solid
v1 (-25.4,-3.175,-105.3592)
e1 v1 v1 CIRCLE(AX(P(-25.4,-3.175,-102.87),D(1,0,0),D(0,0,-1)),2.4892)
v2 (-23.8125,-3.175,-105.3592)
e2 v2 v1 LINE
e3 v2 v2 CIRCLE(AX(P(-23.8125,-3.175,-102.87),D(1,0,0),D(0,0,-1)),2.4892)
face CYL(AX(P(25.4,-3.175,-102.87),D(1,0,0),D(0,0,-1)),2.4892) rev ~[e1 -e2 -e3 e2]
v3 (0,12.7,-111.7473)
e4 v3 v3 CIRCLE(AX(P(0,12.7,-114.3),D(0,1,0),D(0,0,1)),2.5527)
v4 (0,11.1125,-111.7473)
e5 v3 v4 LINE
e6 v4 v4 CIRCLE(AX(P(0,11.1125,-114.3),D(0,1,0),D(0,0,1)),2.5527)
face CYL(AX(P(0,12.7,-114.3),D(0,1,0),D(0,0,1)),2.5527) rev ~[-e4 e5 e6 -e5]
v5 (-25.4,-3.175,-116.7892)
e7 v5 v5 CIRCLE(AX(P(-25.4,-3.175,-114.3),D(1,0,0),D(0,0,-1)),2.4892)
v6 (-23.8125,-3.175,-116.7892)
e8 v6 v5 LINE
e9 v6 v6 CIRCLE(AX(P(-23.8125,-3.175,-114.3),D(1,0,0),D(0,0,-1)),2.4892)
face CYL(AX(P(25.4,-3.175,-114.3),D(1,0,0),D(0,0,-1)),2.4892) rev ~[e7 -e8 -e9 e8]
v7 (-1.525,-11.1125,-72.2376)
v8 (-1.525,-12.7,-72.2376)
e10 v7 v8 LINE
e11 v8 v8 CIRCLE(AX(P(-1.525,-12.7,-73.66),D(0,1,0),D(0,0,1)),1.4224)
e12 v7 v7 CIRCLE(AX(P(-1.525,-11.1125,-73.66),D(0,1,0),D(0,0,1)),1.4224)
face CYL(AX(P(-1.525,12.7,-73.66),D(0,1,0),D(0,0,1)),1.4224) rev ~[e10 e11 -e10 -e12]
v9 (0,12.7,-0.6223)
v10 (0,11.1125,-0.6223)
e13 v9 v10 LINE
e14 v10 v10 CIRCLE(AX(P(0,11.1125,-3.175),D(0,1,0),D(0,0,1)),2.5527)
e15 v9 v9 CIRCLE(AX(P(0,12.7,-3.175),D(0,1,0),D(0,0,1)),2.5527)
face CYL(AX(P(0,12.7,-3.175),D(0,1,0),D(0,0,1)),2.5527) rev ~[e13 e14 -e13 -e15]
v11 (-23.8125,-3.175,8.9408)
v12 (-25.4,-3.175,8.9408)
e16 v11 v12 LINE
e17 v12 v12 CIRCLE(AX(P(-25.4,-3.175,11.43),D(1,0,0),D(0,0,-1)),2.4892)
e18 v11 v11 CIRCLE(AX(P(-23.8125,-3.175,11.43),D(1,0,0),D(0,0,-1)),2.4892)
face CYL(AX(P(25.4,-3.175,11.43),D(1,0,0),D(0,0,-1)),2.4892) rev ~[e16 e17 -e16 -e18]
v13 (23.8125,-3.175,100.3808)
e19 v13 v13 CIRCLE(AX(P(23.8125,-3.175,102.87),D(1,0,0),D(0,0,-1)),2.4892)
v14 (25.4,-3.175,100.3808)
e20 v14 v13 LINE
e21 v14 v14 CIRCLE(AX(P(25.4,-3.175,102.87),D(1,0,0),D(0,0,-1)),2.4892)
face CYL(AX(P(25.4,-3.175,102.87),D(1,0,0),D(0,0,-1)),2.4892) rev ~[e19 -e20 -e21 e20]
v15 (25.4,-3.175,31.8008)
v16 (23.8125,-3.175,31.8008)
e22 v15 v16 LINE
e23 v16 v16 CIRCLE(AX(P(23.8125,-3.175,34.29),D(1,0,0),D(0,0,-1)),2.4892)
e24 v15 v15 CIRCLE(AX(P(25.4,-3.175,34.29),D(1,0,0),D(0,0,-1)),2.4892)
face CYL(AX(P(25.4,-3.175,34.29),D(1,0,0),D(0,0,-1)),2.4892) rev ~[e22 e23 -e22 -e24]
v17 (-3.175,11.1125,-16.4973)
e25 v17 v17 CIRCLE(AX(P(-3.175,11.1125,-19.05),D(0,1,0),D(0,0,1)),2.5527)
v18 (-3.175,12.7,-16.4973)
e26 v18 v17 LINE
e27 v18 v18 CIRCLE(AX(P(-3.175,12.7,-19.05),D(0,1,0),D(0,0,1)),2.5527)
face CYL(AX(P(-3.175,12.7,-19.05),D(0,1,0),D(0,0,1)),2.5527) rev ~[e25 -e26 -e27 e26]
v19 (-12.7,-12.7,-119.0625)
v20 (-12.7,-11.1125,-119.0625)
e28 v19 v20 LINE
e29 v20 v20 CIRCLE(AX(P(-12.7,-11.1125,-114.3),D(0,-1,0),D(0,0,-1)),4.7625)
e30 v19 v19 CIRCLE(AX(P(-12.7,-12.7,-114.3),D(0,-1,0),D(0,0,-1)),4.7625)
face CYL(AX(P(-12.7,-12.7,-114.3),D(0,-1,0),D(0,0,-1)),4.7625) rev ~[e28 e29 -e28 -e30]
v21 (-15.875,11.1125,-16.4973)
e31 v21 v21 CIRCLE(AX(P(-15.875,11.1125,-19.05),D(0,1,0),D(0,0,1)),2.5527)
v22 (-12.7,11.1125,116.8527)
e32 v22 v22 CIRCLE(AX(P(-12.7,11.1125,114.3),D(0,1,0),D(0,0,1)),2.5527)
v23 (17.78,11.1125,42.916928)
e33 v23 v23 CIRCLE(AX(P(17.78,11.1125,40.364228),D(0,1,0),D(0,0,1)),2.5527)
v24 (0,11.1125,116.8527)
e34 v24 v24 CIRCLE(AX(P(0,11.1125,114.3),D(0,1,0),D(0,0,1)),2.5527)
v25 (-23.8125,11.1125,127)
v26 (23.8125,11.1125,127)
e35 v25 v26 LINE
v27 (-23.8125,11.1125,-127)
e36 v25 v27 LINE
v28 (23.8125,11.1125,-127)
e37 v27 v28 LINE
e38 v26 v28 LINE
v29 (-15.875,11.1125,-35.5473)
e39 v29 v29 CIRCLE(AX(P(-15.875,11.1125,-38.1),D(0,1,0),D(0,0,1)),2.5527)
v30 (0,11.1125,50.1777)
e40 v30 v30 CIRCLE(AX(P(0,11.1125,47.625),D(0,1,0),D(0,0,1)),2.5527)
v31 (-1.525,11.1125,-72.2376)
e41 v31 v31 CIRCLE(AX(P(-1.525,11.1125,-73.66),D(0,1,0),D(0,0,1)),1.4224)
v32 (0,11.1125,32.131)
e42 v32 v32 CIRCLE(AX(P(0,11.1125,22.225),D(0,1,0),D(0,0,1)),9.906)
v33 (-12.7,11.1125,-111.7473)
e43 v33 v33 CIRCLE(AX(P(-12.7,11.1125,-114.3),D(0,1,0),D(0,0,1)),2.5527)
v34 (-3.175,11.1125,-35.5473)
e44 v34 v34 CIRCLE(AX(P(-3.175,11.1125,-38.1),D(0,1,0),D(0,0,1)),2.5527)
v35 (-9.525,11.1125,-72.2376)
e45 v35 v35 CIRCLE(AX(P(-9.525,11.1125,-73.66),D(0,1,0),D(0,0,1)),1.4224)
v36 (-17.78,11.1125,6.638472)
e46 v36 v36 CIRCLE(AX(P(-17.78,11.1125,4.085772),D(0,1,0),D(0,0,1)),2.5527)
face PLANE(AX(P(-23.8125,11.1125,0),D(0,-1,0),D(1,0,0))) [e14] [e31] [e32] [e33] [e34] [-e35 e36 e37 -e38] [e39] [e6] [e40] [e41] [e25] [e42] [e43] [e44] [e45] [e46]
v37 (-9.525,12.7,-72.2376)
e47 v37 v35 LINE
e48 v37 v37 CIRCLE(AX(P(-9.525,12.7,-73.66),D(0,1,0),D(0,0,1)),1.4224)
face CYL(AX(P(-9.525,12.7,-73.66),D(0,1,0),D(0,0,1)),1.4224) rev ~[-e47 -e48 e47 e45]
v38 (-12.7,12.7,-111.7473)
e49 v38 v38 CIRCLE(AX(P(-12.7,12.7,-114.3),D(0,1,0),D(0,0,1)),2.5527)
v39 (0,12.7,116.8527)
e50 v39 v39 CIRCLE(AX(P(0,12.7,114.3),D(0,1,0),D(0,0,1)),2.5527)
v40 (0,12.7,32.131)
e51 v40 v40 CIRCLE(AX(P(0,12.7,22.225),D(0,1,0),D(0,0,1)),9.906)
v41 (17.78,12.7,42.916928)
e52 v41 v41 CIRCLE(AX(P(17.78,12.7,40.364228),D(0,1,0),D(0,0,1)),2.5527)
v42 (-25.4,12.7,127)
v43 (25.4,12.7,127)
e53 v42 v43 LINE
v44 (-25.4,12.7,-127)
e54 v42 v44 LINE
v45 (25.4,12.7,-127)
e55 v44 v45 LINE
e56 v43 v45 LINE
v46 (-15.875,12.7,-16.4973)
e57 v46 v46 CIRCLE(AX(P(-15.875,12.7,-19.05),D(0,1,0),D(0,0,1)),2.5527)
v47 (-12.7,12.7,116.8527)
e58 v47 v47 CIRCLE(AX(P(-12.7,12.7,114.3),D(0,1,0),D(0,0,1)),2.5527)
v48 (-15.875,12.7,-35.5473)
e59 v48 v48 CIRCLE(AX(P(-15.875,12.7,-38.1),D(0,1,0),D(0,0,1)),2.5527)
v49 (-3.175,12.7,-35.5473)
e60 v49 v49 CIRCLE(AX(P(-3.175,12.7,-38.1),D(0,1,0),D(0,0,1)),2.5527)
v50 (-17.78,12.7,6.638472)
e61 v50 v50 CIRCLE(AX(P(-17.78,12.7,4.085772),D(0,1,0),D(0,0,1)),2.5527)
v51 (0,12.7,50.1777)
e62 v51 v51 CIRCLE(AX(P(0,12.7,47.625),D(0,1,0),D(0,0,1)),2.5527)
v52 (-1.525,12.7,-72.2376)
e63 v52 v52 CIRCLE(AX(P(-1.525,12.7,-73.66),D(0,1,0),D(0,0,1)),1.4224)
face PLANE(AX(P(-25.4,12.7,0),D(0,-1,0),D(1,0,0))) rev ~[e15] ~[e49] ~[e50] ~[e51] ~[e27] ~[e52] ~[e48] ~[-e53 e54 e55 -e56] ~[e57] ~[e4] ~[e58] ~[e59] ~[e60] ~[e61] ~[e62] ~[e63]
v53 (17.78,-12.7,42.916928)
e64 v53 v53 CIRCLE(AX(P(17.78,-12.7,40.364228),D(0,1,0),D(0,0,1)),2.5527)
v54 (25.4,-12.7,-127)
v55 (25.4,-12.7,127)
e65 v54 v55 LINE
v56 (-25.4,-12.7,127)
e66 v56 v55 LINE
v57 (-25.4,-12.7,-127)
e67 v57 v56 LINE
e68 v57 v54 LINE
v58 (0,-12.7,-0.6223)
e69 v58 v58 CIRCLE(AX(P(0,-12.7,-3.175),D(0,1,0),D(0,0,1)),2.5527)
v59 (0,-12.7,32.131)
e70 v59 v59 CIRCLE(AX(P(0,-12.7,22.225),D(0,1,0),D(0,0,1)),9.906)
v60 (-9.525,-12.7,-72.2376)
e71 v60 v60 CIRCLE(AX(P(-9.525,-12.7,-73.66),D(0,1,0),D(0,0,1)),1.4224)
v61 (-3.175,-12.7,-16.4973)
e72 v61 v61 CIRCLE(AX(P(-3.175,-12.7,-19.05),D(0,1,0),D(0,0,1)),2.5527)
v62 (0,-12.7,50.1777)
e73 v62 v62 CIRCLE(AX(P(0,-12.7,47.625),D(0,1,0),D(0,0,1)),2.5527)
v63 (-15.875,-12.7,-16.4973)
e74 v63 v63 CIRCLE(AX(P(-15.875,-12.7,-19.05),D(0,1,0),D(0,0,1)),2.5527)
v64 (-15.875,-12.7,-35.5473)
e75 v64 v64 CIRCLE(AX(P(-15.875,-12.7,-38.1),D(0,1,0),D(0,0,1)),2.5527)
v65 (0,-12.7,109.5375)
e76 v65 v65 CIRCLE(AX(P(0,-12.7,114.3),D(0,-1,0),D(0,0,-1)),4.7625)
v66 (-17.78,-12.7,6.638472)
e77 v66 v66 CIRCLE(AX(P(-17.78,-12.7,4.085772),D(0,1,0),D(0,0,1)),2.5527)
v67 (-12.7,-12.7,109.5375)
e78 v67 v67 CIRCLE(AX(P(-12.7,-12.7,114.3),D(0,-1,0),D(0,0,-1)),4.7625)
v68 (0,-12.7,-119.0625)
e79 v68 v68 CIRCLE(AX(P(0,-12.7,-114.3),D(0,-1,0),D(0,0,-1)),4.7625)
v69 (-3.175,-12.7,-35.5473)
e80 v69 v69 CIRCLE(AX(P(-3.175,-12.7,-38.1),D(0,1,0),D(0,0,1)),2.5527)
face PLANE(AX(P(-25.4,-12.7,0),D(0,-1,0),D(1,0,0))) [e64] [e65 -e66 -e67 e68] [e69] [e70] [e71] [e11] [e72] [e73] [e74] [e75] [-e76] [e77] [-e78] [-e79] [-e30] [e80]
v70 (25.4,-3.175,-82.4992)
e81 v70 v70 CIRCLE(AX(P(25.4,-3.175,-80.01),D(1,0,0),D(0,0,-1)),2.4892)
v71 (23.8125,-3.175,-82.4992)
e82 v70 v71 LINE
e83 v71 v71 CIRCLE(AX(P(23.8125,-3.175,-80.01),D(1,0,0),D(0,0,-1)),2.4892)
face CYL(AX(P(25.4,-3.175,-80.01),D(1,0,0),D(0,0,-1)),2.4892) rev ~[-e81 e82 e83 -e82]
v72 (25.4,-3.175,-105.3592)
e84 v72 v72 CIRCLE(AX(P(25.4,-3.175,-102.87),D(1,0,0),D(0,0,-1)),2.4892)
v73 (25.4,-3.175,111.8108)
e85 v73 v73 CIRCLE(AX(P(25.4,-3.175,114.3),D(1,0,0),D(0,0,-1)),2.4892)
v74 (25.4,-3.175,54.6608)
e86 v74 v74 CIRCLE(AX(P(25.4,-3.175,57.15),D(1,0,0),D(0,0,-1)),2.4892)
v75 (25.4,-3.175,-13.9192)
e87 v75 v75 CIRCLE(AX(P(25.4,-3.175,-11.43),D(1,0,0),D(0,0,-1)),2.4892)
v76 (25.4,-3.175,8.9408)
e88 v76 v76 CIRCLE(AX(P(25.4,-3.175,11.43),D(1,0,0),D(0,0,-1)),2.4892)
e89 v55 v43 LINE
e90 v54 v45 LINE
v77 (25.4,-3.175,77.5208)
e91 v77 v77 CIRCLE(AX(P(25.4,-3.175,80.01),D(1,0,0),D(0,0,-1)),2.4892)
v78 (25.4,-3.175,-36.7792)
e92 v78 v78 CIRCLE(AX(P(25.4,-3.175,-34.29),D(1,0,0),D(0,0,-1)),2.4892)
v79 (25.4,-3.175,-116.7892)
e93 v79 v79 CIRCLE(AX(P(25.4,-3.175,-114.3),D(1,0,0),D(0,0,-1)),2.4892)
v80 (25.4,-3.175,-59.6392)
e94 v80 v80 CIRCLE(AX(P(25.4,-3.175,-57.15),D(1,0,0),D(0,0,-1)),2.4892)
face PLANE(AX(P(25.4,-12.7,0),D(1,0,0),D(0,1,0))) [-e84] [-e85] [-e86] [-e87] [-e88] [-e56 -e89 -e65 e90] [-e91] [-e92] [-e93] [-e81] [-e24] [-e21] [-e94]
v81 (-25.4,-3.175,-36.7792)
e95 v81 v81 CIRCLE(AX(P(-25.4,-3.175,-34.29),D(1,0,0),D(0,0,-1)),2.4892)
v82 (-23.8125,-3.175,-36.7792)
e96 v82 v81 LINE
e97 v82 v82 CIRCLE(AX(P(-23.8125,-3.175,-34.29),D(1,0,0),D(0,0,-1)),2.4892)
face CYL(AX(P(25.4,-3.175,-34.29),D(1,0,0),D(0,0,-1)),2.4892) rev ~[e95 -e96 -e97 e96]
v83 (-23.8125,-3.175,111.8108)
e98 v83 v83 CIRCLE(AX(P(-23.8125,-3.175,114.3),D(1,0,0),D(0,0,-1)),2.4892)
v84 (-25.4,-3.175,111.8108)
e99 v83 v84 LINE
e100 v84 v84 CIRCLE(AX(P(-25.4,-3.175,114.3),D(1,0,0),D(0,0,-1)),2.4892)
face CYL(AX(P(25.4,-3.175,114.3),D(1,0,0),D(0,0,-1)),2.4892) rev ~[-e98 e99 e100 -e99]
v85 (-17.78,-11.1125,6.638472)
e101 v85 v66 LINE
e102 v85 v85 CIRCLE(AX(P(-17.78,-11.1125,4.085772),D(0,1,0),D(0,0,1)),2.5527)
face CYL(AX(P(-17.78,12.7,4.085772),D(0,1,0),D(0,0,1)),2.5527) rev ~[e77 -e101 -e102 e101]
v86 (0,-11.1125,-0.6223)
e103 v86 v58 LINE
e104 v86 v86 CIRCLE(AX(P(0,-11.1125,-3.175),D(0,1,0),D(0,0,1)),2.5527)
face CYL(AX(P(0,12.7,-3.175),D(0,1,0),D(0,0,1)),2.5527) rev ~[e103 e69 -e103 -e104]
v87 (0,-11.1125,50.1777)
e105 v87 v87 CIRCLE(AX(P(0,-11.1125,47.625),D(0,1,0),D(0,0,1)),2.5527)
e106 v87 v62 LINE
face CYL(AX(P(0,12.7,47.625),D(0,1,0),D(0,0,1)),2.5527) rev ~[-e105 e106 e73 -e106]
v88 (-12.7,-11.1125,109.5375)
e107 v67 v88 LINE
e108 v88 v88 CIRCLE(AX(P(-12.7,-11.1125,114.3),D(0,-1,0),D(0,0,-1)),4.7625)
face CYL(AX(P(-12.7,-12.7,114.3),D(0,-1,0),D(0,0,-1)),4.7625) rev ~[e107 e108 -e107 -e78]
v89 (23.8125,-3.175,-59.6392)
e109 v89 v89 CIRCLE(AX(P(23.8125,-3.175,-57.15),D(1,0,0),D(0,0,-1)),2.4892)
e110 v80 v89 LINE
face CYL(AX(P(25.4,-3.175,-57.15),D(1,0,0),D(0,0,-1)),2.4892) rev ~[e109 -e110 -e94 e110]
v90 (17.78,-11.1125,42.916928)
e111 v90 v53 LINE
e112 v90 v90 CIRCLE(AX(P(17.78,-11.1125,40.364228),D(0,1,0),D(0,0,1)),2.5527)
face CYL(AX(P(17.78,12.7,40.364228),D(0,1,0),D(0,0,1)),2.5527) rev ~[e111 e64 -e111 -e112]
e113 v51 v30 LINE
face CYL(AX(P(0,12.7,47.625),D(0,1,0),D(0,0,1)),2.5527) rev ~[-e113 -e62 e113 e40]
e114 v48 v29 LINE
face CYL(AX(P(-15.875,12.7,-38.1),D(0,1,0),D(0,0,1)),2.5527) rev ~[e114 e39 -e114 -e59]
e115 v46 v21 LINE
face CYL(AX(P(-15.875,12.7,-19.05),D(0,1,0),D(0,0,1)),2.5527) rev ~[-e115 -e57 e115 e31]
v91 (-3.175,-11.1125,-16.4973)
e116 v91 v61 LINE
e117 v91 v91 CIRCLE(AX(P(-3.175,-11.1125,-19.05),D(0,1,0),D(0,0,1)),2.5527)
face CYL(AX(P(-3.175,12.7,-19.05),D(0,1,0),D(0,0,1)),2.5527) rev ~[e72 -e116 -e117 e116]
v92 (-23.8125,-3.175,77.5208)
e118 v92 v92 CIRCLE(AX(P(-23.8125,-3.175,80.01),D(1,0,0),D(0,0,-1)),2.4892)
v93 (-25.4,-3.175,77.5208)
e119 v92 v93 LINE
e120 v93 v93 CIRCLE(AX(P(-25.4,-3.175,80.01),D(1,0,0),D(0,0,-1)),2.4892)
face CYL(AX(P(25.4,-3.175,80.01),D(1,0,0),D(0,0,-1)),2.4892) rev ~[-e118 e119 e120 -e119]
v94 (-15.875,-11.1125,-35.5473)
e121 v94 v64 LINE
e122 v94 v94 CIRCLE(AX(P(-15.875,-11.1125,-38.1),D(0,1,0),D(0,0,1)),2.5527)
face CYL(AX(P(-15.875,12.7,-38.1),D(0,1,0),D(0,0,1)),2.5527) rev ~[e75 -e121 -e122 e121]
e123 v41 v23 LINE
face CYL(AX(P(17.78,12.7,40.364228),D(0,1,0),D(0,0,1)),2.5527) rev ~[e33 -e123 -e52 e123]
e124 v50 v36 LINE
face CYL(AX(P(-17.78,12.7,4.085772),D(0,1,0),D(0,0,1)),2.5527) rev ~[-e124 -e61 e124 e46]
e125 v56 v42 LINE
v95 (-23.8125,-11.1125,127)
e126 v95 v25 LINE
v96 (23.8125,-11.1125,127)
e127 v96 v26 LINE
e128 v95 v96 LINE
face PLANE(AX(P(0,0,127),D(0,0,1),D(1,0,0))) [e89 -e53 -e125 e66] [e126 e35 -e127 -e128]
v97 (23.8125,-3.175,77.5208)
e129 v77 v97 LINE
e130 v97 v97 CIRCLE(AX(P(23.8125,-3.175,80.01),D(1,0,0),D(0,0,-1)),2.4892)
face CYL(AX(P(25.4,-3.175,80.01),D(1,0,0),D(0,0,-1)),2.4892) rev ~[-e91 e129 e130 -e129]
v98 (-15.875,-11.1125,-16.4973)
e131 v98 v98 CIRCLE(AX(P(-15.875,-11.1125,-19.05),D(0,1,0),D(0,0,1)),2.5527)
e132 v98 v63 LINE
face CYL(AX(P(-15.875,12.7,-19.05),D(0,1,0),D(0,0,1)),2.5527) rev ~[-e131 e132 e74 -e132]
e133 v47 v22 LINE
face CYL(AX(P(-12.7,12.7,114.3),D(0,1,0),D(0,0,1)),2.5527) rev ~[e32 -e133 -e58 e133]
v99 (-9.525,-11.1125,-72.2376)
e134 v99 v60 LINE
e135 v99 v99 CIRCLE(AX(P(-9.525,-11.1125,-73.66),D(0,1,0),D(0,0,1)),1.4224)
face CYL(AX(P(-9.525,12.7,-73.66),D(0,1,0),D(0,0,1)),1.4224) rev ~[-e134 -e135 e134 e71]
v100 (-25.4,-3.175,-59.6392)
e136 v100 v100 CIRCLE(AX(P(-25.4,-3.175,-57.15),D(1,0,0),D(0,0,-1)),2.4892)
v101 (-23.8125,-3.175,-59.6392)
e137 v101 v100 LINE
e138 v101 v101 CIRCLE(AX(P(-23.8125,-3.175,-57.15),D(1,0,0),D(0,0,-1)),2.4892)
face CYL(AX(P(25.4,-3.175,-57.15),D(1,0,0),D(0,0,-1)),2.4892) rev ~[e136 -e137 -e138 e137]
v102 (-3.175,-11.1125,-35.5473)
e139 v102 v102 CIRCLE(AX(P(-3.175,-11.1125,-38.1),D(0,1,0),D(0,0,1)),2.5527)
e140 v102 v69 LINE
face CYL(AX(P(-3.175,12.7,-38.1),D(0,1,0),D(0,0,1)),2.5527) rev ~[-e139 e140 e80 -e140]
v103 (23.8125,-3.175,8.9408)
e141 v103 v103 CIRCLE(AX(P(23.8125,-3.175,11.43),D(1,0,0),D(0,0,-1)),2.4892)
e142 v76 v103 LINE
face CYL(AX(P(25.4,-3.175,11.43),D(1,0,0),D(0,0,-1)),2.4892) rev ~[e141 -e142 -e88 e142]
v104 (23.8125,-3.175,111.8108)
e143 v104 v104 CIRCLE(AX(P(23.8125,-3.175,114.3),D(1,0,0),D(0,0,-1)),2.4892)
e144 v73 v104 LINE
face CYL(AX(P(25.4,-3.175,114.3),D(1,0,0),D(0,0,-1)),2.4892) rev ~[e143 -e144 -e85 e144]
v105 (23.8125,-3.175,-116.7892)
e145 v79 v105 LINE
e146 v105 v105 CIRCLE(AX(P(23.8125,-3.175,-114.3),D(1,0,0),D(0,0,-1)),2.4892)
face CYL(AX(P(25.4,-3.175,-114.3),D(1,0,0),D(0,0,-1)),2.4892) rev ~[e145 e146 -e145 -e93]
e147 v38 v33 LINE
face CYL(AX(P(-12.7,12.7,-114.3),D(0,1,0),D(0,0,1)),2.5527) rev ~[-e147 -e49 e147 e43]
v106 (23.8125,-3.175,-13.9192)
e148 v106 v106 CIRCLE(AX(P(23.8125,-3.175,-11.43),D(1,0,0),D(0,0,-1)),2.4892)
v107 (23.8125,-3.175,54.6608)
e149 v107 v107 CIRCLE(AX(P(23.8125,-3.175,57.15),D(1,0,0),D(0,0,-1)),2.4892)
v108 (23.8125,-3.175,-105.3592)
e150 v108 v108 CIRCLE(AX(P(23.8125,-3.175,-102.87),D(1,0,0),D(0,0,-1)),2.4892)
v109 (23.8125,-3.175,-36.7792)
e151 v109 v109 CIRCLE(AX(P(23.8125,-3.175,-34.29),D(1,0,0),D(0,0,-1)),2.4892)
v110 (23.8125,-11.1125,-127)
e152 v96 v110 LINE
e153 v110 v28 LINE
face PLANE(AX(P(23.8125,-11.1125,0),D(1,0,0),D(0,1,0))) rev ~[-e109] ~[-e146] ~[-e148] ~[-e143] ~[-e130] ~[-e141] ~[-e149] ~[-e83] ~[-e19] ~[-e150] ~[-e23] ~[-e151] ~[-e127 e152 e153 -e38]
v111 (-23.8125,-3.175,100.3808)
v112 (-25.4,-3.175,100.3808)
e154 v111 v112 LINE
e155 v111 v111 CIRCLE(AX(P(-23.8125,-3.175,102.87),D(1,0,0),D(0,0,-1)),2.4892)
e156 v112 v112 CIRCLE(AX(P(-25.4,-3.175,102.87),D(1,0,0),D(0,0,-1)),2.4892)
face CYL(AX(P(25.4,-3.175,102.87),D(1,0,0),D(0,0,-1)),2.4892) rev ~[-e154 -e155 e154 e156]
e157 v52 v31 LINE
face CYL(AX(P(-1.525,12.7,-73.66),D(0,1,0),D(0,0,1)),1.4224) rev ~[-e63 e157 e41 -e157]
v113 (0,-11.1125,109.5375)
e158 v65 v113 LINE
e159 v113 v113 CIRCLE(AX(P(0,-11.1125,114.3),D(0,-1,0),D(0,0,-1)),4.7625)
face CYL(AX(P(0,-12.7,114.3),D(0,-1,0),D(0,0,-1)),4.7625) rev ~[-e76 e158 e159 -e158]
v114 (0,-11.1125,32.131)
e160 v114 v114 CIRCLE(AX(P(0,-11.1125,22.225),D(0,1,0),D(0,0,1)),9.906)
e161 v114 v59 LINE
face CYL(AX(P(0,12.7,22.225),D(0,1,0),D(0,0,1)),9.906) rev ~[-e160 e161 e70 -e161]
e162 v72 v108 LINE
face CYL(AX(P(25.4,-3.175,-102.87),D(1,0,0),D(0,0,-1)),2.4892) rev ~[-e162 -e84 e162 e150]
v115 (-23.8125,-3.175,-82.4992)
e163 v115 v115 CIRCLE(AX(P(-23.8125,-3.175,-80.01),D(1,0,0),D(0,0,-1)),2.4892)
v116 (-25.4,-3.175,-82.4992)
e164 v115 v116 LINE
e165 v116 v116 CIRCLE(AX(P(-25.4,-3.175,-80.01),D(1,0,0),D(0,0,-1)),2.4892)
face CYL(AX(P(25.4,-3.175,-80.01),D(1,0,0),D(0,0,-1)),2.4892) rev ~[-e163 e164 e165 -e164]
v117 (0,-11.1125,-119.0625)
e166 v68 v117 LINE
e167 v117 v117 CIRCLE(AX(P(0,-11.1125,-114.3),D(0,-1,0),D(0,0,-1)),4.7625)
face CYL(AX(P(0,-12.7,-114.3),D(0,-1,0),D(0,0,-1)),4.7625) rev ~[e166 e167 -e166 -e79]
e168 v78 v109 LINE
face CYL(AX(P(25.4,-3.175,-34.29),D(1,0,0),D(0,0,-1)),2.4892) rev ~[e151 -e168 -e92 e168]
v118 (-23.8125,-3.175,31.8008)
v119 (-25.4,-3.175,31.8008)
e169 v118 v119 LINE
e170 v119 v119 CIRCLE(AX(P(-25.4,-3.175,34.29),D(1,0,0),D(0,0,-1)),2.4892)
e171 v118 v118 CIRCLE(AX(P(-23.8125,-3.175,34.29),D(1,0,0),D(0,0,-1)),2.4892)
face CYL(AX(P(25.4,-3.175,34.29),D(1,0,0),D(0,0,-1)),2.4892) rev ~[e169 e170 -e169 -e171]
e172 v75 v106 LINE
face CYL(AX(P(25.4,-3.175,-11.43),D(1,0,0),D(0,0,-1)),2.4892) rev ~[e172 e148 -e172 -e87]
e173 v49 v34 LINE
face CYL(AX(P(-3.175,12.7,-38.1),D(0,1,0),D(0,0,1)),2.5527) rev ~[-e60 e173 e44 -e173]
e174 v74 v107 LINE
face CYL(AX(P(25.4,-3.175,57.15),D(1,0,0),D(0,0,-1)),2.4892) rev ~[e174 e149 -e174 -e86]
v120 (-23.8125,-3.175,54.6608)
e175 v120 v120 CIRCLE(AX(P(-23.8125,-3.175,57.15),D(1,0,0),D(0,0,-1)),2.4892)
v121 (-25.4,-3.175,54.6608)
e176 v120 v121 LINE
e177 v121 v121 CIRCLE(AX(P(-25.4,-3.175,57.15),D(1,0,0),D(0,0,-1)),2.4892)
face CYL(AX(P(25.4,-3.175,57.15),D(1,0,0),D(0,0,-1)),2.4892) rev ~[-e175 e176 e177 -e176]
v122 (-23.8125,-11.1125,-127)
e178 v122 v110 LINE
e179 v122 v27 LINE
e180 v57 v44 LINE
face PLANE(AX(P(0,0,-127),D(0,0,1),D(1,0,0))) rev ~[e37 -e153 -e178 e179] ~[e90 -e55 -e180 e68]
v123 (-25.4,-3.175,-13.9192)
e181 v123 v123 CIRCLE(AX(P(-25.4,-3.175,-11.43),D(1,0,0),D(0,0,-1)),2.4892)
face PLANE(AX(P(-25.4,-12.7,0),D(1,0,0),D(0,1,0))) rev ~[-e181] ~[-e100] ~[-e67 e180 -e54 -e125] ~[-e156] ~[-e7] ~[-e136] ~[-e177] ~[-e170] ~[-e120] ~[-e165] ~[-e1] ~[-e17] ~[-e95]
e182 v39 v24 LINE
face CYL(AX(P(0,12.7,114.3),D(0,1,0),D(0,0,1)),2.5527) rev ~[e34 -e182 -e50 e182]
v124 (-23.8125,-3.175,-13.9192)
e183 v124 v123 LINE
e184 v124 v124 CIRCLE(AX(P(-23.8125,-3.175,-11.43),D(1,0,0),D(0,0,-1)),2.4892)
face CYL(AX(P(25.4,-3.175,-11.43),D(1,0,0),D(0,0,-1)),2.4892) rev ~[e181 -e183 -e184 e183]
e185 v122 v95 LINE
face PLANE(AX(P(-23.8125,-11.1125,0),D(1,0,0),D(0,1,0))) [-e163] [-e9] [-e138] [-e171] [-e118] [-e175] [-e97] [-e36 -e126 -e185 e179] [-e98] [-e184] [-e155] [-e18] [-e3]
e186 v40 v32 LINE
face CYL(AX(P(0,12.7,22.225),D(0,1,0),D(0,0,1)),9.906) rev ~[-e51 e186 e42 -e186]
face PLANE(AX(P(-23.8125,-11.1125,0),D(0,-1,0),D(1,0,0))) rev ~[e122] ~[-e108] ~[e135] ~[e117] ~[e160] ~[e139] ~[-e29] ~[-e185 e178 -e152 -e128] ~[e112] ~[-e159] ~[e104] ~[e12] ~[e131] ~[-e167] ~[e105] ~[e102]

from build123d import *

# Parameters (mm, degrees)
SKETCH1_W           = 50.8
SKETCH1_H           = 25.4
SKETCH1_W_2         = 47.625
SKETCH1_H_2         = 22.225
BOSS_EXTRUDE1_DEPTH = 127
SKETCH3_R           = 2.5527
CUT_EXTRUDE1_DEPTH  = 1.5875
SKETCH5_R           = 4.7625
SKETCH5_R_2         = 2.5527
CUT_EXTRUDE2_DEPTH  = 1.5875
SKETCH6_R           = 2.4892
CUT_EXTRUDE3_DEPTH  = 138.371503595
SKETCH11_R          = 9.906
SKETCH11_R_2        = 2.5527
SKETCH11_R_3        = 1.4224
CUT_EXTRUDE4_DEPTH  = 132.982271537


with BuildPart() as part:
    # Sketch1 → Boss-Extrude1 (new, symmetric)
    with BuildSketch(Plane.XY):
        Rectangle(SKETCH1_W, SKETCH1_H)
        Rectangle(SKETCH1_W_2, SKETCH1_H_2, mode=Mode.SUBTRACT)
    extrude(amount=BOSS_EXTRUDE1_DEPTH, both=True)

    # Sketch3 → Cut-Extrude1 (cut)
    with BuildSketch(Plane(origin=(0, 12.7, 0), x_dir=(1, 0, 0), z_dir=(0, 1, 0))):
        with Locations(Location((-12.7, -114.3, 0), (0, 0, 270))):
            Circle(SKETCH3_R)
        with Locations(Location((0, -114.3, 0), (0, 0, 270))):
            Circle(SKETCH3_R)
        with Locations(Location((-12.7, 114.3, 0), (0, 0, 270))):
            Circle(SKETCH3_R)
        with Locations(Location((0, 114.3, 0), (0, 0, 270))):
            Circle(SKETCH3_R)
    extrude(amount=-CUT_EXTRUDE1_DEPTH, mode=Mode.SUBTRACT)

    # Sketch5 → Cut-Extrude2 (cut)
    with BuildSketch(Plane.XZ.offset(12.7)):
        with Locations(Location((0, -114.3, 0), (0, 0, 270))):
            Circle(SKETCH5_R)
        with Locations(Location((0, -114.3, 0), (0, 0, 90))):
            Circle(SKETCH5_R_2, mode=Mode.SUBTRACT)
        with Locations(Location((0, -114.3, 0), (0, 0, 90))):
            Circle(SKETCH5_R_2)
        with Locations(Location((-12.7, -114.3, 0), (0, 0, 270))):
            Circle(SKETCH5_R)
        with Locations(Location((-12.7, -114.3, 0), (0, 0, 90))):
            Circle(SKETCH5_R_2, mode=Mode.SUBTRACT)
        with Locations(Location((-12.7, -114.3, 0), (0, 0, 90))):
            Circle(SKETCH5_R_2)
        with Locations(Location((0, 114.3, 0), (0, 0, 270))):
            Circle(SKETCH5_R)
        with Locations(Location((0, 114.3, 0), (0, 0, 90))):
            Circle(SKETCH5_R_2, mode=Mode.SUBTRACT)
        with Locations(Location((0, 114.3, 0), (0, 0, 90))):
            Circle(SKETCH5_R_2)
        with Locations(Location((-12.7, 114.3, 0), (0, 0, 270))):
            Circle(SKETCH5_R)
        with Locations(Location((-12.7, 114.3, 0), (0, 0, 90))):
            Circle(SKETCH5_R_2, mode=Mode.SUBTRACT)
        with Locations(Location((-12.7, 114.3, 0), (0, 0, 90))):
            Circle(SKETCH5_R_2)
    extrude(amount=-CUT_EXTRUDE2_DEPTH, mode=Mode.SUBTRACT)

    # Sketch6 → Cut-Extrude3 (cut, through all)
    with BuildSketch(Plane(origin=(25.4, 0, 0), x_dir=(0, 0, -1), z_dir=(1, 0, 0))):
        with Locations((-114.3, -3.175)):
            Circle(SKETCH6_R)
        with Locations((114.3, -3.175)):
            Circle(SKETCH6_R)
        with Locations((-102.87, -3.175)):
            Circle(SKETCH6_R)
        with Locations((-80.01, -3.175)):
            Circle(SKETCH6_R)
        with Locations((-57.15, -3.175)):
            Circle(SKETCH6_R)
        with Locations((-34.29, -3.175)):
            Circle(SKETCH6_R)
        with Locations((-11.43, -3.175)):
            Circle(SKETCH6_R)
        with Locations((11.43, -3.175)):
            Circle(SKETCH6_R)
        with Locations((34.29, -3.175)):
            Circle(SKETCH6_R)
        with Locations((57.15, -3.175)):
            Circle(SKETCH6_R)
        with Locations((80.01, -3.175)):
            Circle(SKETCH6_R)
        with Locations((102.87, -3.175)):
            Circle(SKETCH6_R)
    extrude(amount=-CUT_EXTRUDE3_DEPTH, mode=Mode.SUBTRACT)

    # Sketch11 → Cut-Extrude4 (cut, through all)
    with BuildSketch(Plane(origin=(0, 12.7, 0), x_dir=(1, 0, 0), z_dir=(0, 1, 0))):
        with Locations(Location((0, -22.225, 0), (0, 0, 270))):
            Circle(SKETCH11_R)
        with Locations(Location((0, 3.175, 0), (0, 0, 270))):
            Circle(SKETCH11_R_2)
        with Locations(Location((0, -47.625, 0), (0, 0, 270))):
            Circle(SKETCH11_R_2)
        with Locations(Location((-15.875, 19.05, 0), (0, 0, 270))):
            Circle(SKETCH11_R_2)
        with Locations(Location((-15.875, 38.1, 0), (0, 0, 270))):
            Circle(SKETCH11_R_2)
        with Locations(Location((-3.175, 19.05, 0), (0, 0, 270))):
            Circle(SKETCH11_R_2)
        with Locations(Location((-3.175, 38.1, 0), (0, 0, 270))):
            Circle(SKETCH11_R_2)
        with Locations(Location((-17.78, -4.085771792, 0), (0, 0, 270))):
            Circle(SKETCH11_R_2)
        with Locations(Location((17.78, -40.364228208, 0), (0, 0, 270))):
            Circle(SKETCH11_R_2)
        with Locations(Location((-9.525, 73.66, 0), (0, 0, 270))):
            Circle(SKETCH11_R_3)
        with Locations(Location((-1.524999998, 73.66, 0), (0, 0, 270))):
            Circle(SKETCH11_R_3)
    extrude(amount=-CUT_EXTRUDE4_DEPTH, mode=Mode.SUBTRACT)


solid = part.part
